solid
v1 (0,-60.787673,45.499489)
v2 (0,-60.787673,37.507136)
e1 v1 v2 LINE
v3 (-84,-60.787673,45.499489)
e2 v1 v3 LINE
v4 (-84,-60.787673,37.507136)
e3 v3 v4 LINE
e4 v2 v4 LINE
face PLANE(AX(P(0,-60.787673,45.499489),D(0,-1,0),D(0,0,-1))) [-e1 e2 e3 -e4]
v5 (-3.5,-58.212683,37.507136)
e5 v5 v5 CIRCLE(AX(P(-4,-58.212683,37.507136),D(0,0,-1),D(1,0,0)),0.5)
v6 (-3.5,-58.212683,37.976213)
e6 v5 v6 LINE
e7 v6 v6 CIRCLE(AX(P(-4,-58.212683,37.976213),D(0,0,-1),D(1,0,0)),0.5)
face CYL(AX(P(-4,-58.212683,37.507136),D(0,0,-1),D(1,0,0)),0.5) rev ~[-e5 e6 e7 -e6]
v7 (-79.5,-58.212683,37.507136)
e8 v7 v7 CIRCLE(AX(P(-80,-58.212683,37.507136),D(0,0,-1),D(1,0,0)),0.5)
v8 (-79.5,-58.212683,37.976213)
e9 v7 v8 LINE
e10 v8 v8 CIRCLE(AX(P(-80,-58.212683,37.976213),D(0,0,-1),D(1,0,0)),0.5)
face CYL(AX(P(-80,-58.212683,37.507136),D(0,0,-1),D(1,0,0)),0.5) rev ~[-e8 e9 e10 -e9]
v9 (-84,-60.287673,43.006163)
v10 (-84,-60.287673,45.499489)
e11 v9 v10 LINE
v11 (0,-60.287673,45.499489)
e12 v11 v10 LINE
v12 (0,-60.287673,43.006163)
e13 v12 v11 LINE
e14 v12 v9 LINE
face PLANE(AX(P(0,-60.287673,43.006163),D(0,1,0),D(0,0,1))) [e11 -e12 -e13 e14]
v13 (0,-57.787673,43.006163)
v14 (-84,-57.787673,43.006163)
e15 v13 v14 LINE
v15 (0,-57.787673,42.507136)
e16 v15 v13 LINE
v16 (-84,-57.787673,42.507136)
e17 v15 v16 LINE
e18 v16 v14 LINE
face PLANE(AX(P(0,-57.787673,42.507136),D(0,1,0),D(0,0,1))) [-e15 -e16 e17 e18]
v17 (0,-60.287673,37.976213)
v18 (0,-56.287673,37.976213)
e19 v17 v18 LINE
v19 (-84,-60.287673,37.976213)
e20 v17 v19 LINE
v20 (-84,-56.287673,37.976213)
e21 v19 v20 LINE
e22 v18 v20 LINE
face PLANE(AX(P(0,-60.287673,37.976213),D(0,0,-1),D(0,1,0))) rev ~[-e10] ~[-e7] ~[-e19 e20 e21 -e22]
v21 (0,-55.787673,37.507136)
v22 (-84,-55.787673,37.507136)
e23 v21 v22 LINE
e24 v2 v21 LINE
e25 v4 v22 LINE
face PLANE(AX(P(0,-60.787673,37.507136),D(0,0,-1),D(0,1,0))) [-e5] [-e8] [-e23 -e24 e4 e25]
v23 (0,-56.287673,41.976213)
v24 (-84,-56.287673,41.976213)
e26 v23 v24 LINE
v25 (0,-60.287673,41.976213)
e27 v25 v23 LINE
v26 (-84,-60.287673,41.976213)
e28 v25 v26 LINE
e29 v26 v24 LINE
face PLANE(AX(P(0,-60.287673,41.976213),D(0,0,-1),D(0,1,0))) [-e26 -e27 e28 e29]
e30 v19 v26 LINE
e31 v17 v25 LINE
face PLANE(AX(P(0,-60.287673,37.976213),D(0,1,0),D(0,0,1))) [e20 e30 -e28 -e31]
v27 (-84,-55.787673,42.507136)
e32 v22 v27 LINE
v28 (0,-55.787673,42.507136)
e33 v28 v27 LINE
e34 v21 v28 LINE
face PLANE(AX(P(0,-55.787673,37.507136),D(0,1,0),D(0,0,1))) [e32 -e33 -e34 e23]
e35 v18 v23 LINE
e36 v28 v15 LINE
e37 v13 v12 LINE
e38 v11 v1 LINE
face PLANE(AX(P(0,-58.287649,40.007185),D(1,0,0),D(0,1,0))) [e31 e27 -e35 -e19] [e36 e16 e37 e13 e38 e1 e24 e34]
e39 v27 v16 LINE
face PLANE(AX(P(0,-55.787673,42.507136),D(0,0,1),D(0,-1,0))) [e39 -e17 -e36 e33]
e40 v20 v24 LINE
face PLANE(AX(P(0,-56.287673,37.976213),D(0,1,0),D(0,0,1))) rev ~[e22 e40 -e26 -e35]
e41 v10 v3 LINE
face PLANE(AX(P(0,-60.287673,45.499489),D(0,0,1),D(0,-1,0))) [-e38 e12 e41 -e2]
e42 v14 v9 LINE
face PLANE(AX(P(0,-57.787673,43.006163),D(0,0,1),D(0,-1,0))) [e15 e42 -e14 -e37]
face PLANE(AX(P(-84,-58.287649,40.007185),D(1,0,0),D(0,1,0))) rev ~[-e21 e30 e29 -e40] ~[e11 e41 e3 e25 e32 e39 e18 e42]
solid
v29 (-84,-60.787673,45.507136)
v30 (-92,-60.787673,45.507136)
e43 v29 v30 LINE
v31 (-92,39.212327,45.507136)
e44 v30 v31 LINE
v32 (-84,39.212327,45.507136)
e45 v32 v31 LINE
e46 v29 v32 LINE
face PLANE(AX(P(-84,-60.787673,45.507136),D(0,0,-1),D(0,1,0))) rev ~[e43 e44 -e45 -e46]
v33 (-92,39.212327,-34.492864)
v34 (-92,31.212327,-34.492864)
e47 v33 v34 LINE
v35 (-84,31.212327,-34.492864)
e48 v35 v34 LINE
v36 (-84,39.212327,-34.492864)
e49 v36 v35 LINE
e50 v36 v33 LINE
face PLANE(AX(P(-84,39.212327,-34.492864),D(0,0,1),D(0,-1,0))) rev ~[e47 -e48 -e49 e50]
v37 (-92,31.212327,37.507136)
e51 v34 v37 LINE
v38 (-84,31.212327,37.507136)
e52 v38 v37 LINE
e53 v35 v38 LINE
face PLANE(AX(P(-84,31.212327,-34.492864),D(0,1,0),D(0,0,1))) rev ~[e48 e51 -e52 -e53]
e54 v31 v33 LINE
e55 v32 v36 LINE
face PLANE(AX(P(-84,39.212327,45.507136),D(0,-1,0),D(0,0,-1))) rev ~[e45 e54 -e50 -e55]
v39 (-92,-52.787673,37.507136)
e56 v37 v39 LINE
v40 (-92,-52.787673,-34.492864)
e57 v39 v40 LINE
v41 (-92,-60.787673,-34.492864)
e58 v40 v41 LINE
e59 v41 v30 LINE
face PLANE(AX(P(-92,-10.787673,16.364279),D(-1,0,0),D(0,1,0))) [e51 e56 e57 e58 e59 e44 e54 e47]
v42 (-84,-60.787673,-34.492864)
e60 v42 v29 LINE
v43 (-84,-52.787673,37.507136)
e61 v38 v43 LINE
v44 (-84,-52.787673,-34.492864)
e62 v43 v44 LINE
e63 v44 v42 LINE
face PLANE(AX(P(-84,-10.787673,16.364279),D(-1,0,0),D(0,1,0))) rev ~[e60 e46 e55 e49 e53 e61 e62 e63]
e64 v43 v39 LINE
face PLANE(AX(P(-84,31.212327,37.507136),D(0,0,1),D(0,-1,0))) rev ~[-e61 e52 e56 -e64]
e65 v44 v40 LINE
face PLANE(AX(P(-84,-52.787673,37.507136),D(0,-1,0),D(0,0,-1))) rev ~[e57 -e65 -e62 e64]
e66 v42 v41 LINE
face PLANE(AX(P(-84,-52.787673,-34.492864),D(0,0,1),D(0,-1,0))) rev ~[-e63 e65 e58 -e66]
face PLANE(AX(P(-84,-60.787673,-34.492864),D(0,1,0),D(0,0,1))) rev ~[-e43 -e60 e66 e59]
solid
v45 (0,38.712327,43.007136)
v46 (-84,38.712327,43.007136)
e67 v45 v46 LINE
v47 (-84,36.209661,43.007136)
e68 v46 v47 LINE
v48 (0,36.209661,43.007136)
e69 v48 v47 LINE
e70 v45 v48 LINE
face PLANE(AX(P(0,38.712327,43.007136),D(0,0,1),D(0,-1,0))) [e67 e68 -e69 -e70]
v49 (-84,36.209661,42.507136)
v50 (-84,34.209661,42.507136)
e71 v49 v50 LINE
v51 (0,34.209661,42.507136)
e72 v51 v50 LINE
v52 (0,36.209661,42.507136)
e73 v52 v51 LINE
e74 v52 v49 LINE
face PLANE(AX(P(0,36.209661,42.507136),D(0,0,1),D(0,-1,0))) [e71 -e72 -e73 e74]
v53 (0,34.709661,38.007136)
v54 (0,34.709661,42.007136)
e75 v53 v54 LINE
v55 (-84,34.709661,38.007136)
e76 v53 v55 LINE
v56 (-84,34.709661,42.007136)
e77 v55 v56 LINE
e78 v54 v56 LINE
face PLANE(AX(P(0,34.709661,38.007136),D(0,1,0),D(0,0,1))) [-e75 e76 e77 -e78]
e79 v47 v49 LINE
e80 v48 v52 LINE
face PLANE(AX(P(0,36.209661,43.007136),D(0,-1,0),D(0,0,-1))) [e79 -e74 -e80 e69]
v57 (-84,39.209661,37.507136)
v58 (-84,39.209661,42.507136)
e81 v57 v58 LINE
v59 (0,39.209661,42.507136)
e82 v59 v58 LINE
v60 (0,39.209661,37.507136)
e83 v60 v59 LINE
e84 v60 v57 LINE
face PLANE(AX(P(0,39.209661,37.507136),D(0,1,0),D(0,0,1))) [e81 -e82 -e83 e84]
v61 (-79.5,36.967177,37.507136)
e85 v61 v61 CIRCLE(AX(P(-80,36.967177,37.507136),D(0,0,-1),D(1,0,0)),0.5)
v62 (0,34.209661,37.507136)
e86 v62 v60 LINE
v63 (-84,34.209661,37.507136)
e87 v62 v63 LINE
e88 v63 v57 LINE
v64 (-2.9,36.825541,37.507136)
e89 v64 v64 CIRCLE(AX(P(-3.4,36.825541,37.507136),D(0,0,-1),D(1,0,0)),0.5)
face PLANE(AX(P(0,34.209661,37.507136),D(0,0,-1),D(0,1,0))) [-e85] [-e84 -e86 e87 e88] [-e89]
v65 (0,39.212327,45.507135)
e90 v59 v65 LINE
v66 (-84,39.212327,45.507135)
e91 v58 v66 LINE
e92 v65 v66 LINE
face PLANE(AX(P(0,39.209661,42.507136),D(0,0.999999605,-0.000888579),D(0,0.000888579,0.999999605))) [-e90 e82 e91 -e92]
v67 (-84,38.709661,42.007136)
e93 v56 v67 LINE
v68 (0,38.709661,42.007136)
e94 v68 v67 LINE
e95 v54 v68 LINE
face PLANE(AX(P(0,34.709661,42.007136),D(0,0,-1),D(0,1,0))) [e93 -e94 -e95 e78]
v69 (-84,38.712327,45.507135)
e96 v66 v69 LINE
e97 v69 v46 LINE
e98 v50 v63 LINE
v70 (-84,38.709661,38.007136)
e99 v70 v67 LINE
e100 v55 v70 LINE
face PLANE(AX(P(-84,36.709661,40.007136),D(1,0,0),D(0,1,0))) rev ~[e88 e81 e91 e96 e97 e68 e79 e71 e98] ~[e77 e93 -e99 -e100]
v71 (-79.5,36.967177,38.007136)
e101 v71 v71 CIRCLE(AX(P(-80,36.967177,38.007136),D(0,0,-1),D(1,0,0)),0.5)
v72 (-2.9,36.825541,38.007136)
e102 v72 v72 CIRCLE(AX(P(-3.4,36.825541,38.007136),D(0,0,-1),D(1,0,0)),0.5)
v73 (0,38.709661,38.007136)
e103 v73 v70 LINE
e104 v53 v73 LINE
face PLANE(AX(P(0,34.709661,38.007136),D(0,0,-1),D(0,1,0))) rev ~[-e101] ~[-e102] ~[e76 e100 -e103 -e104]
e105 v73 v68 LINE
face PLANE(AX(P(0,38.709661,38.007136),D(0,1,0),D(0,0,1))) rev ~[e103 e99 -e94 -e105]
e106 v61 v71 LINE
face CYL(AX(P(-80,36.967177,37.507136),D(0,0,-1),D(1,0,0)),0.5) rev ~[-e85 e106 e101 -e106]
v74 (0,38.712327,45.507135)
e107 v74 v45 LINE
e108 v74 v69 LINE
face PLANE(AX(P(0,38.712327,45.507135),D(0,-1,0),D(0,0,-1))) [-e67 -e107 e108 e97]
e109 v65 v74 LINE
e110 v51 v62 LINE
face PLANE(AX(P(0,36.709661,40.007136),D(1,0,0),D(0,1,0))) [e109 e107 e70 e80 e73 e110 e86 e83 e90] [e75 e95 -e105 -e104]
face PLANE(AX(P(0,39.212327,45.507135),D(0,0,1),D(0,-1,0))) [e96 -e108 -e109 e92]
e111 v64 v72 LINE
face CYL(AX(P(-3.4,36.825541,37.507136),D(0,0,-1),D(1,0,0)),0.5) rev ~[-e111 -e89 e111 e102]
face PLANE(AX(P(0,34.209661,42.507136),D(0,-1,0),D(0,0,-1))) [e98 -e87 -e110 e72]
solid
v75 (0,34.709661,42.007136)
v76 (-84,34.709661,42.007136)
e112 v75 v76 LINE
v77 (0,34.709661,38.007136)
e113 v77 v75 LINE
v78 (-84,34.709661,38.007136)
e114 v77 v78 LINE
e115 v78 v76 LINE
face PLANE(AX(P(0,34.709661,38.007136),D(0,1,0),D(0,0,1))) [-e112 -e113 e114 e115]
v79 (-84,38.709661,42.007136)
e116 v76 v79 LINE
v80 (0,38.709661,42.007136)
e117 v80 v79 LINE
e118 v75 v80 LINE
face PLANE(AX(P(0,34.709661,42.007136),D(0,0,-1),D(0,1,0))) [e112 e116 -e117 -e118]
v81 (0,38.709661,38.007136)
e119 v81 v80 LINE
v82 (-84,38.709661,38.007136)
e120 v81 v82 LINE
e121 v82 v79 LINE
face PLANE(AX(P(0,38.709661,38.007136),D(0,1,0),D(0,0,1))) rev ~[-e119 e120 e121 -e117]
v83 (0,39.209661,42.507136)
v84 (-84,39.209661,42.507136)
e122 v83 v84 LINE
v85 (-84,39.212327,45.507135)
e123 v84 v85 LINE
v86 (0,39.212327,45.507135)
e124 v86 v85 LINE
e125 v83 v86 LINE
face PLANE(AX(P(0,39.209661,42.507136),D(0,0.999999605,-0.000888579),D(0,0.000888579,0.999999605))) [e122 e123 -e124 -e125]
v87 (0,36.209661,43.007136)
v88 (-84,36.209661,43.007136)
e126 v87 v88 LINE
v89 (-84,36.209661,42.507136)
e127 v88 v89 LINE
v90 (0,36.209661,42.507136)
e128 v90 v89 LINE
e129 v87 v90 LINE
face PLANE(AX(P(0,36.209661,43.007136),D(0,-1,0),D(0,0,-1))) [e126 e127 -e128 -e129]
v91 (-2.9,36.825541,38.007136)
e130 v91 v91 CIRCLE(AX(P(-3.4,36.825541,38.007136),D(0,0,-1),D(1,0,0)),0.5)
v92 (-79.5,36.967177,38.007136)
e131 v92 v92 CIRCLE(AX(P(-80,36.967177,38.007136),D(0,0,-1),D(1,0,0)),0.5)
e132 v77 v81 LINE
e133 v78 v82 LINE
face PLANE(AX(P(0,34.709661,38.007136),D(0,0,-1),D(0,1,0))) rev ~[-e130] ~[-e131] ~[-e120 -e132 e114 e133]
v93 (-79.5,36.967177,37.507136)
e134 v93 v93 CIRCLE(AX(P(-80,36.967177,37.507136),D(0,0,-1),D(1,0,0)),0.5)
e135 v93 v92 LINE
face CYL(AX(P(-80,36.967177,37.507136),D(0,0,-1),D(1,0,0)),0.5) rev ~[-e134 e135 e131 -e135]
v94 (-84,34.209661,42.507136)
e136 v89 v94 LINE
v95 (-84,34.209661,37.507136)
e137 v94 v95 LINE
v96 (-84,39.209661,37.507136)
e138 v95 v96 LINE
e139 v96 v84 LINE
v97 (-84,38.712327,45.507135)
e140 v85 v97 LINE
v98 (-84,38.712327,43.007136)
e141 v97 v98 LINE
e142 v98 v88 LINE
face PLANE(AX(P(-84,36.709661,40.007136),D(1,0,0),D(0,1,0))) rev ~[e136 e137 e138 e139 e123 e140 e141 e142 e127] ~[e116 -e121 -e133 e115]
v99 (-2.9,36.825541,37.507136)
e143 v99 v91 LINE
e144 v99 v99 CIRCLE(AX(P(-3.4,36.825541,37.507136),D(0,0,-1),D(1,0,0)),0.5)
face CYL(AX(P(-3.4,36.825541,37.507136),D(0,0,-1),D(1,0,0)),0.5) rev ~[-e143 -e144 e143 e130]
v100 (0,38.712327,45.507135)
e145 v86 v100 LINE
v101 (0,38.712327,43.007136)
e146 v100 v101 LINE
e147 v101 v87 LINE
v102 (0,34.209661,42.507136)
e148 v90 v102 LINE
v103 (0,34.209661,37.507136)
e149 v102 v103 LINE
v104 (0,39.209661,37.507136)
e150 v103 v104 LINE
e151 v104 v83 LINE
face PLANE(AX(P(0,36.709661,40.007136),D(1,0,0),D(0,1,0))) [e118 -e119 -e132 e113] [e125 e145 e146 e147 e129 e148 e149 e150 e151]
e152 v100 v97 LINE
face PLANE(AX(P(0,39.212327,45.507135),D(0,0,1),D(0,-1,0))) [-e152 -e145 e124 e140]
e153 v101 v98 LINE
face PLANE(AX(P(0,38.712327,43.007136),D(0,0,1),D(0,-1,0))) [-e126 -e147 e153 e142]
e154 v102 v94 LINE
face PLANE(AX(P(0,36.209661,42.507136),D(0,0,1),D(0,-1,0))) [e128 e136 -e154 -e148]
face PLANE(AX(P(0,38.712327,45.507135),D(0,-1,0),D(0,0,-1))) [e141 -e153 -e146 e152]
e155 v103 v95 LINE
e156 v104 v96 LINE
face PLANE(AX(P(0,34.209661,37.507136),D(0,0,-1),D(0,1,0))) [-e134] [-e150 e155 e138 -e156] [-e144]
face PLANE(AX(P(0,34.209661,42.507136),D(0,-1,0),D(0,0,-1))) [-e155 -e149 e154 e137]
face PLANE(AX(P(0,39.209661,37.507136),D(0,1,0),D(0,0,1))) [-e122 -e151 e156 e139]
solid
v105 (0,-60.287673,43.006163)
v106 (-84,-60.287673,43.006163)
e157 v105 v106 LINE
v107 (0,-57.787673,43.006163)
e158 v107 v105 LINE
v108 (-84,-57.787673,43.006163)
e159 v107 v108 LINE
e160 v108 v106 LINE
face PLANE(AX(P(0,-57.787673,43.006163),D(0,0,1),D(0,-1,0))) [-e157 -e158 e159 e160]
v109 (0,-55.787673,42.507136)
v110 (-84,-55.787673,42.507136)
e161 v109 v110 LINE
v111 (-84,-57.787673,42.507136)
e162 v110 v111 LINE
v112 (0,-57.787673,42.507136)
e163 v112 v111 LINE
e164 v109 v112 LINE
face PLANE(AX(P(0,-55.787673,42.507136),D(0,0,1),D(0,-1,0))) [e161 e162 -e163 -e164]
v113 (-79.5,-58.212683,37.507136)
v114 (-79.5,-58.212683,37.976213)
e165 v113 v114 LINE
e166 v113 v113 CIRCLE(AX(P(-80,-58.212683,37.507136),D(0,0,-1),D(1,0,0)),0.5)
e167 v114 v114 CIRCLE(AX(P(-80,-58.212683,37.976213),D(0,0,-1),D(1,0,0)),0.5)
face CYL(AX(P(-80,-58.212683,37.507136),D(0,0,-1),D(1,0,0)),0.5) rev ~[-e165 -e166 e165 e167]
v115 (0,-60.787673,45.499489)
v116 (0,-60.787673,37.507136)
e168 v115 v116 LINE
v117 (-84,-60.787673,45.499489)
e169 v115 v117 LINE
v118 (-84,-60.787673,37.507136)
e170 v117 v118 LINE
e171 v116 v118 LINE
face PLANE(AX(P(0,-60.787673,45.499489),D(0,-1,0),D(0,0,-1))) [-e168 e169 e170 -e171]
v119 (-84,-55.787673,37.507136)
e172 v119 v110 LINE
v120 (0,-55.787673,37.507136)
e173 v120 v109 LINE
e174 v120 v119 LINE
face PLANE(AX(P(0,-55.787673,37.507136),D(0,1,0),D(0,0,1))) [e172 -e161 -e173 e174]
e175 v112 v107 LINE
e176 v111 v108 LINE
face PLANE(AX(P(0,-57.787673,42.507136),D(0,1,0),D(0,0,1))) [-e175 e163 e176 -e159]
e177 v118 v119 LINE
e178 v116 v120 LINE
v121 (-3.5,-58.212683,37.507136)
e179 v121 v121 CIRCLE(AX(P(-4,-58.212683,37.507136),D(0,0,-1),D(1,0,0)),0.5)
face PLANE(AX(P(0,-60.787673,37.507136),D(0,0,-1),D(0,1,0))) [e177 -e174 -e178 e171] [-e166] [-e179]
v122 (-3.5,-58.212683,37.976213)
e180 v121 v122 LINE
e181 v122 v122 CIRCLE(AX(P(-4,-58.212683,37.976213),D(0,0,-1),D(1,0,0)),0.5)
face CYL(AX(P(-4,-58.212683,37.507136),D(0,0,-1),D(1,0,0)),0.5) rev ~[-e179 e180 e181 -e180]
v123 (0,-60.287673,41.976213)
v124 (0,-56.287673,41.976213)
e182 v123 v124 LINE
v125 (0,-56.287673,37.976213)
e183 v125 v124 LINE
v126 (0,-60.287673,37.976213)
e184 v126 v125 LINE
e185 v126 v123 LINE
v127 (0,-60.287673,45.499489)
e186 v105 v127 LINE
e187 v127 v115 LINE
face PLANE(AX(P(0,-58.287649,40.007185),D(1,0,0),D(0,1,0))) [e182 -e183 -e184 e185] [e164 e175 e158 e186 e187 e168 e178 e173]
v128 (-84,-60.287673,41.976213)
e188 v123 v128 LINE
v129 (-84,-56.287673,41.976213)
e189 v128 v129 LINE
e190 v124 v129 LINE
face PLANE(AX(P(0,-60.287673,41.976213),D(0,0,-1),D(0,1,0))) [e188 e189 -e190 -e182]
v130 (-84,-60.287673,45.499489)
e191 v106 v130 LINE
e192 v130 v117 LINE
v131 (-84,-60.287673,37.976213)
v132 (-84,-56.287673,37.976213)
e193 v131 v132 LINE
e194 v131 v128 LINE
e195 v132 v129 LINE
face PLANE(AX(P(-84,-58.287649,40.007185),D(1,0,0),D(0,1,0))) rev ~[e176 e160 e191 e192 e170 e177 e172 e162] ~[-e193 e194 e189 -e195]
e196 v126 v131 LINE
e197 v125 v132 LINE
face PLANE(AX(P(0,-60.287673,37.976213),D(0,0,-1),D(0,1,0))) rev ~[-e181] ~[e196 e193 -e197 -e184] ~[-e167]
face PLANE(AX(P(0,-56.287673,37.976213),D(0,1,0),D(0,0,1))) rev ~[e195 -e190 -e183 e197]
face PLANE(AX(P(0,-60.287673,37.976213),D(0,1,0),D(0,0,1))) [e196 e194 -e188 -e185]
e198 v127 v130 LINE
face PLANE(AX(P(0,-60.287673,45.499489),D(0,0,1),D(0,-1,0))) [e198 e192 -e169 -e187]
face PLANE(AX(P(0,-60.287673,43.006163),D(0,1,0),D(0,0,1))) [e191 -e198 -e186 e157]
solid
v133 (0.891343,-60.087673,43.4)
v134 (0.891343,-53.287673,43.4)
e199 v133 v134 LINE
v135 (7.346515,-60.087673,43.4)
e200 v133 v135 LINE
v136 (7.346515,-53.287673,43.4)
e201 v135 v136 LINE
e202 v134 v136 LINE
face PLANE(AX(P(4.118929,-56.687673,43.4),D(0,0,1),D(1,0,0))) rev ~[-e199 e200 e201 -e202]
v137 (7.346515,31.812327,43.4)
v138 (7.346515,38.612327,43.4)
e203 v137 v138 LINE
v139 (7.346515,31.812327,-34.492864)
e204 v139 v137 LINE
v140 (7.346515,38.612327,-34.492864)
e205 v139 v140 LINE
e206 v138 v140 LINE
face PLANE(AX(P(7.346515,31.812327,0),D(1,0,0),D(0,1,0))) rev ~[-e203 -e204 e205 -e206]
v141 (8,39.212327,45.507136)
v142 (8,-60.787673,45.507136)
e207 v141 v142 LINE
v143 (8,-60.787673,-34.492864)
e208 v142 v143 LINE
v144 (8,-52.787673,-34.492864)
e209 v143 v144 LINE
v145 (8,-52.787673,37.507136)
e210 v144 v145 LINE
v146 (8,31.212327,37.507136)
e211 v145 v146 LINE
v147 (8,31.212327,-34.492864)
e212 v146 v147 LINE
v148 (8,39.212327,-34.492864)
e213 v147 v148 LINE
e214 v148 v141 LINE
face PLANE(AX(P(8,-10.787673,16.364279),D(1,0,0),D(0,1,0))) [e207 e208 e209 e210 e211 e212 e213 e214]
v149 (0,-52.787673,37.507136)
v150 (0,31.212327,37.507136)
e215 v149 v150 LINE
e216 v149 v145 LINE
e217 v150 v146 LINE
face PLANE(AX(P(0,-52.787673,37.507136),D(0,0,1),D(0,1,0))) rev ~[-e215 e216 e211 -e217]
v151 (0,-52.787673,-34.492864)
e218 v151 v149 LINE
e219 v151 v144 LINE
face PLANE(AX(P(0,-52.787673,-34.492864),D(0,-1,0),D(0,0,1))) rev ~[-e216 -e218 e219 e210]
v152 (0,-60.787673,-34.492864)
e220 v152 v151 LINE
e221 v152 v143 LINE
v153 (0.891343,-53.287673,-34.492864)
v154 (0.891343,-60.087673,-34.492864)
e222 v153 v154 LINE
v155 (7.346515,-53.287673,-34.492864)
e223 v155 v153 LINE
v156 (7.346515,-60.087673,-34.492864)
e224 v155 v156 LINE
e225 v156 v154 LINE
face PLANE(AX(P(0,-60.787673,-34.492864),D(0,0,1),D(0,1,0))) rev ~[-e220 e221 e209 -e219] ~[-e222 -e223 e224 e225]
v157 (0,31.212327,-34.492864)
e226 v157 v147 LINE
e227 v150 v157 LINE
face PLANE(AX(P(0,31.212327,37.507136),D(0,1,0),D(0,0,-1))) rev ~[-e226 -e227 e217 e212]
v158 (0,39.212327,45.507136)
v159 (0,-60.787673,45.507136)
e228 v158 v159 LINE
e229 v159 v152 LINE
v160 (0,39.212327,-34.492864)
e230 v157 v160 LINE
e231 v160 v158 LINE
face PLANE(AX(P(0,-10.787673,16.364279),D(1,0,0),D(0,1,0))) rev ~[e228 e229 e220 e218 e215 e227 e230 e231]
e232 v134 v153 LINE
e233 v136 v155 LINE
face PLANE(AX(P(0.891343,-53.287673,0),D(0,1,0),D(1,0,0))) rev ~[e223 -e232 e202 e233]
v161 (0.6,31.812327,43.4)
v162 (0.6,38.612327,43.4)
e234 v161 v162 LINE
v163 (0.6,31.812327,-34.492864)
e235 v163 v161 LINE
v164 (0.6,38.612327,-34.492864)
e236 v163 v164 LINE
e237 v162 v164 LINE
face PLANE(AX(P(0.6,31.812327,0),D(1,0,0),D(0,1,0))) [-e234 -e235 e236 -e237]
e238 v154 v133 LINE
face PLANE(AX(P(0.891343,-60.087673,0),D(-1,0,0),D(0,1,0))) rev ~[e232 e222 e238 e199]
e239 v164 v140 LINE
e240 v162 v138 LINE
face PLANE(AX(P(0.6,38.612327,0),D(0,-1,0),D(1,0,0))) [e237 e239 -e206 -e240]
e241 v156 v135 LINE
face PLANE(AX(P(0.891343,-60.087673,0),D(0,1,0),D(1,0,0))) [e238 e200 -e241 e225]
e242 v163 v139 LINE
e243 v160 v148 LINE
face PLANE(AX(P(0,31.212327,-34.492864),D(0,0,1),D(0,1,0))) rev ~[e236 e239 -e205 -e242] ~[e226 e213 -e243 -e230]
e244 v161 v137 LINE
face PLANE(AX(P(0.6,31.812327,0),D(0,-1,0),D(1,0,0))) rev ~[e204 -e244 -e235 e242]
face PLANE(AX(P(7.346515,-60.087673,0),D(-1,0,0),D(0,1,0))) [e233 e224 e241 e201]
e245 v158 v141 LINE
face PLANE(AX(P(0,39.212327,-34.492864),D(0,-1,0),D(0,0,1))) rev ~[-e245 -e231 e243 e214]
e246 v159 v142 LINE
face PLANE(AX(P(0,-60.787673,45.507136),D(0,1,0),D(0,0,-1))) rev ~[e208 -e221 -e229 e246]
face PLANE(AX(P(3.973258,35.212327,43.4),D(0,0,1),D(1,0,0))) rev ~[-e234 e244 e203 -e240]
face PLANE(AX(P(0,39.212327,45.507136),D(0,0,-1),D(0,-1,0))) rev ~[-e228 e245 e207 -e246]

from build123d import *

# Parameters (mm, degrees)
F1_DEPTH = 8
F2_W     = 6.4551721394
F2_H     = 6.8
F2_W_2   = 6.7465151047
F3_DEPTH = 43.4
F4_W     = 4
F4_H     = 4
F5_DEPTH = 84
F6_DEPTH = 84
F7_START = 84
F7_DEPTH = 8
F8_R     = 0.5
F9_DEPTH = 4.1


with BuildPart() as f1:
    # F0 (on Right) → F1 (new body)
    with BuildSketch(Plane.YZ):
        Polygon((-60.7876732945, 45.5071360877), (-60.7876732945, -34.4928639123), (-52.7876732945, -34.4928639123), (-52.7876732945, 37.5071360877), (31.2123267055, 37.5071360877), (31.2123267055, -34.4928639123), (39.2123267055, -34.4928639123), (39.2123267055, 45.5071360877), align=None)
    extrude(amount=F1_DEPTH)

    # F2 (on Top) → F3 (cut, symmetric)
    with BuildSketch(Plane.XY):
        with Locations((4.118929035, -56.6876732945)):
            Rectangle(F2_W, F2_H)
        with Locations((3.9732575524, 35.2123267055)):
            Rectangle(F2_W_2, F2_H)
    extrude(amount=F3_DEPTH, both=True, mode=Mode.SUBTRACT)


with BuildPart() as f5:
    # F4 (on Right) → F5 (new body)
    with BuildSketch(Plane.YZ):
        Polygon((39.2096609688, 37.5071360877), (39.2096609688, 42.5071360877), (36.2096609688, 42.5071360877), (34.2096609688, 42.5071360877), (34.2096609688, 37.5071360877), align=None)
        with Locations((36.7096609688, 40.0071360877)):
            Rectangle(F4_W, F4_H, mode=Mode.SUBTRACT)
        Polygon((36.2096609688, 42.5071360877), (39.2096609688, 42.5071360877), (39.2123267055, 45.5071349033), (38.7123267055, 45.5071349033), (38.7123267055, 43.0071360877), (36.2096609688, 43.0071360877), align=None)
    extrude(amount=-F5_DEPTH)


with BuildPart() as f5b:
    # F4 (on Right) → F5, piece 2 (new body)
    with BuildSketch(Plane.YZ):
        Polygon((-55.7876732945, 37.5071360877), (-55.7876732945, 42.5071360877), (-57.7876734523, 42.5071360877), (-57.7876734523, 42.5061632327), (-60.7876732945, 42.5071360877), (-60.7876732945, 37.5071360877), align=None)
        with Locations((-58.2876732945, 39.9762127995)):
            Rectangle(F4_W, F4_H, mode=Mode.SUBTRACT)
        Polygon((-57.7876734523, 42.5061632327), (-57.7876734523, 42.5071360877), (-60.7876732945, 42.5071360877), align=None)
        Polygon((-60.7876732945, 42.5071360877), (-57.7876734523, 42.5071360877), (-57.7876734523, 43.0061632327), (-60.2876732945, 43.0061632327), (-60.2876732945, 45.4994887114), (-60.7876732945, 45.4994887114), align=None)
    extrude(amount=-F5_DEPTH)


with BuildPart() as f6:
    # F4 (on Right) → F6 (new body)
    with BuildSketch(Plane.YZ):
        Polygon((39.2096609688, 37.5071360877), (39.2096609688, 42.5071360877), (36.2096609688, 42.5071360877), (34.2096609688, 42.5071360877), (34.2096609688, 37.5071360877), align=None)
        with Locations((36.7096609688, 40.0071360877)):
            Rectangle(F4_W, F4_H, mode=Mode.SUBTRACT)
        Polygon((36.2096609688, 42.5071360877), (39.2096609688, 42.5071360877), (39.2123267055, 45.5071349033), (38.7123267055, 45.5071349033), (38.7123267055, 43.0071360877), (36.2096609688, 43.0071360877), align=None)
    extrude(amount=-F6_DEPTH)


with BuildPart() as f6b:
    # F4 (on Right) → F6, piece 2 (new body)
    with BuildSketch(Plane.YZ):
        Polygon((-55.7876732945, 37.5071360877), (-55.7876732945, 42.5071360877), (-57.7876734523, 42.5071360877), (-57.7876734523, 42.5061632327), (-60.7876732945, 42.5071360877), (-60.7876732945, 37.5071360877), align=None)
        with Locations((-58.2876732945, 39.9762127995)):
            Rectangle(F4_W, F4_H, mode=Mode.SUBTRACT)
        Polygon((-57.7876734523, 42.5061632327), (-57.7876734523, 42.5071360877), (-60.7876732945, 42.5071360877), align=None)
        Polygon((-60.7876732945, 42.5071360877), (-57.7876734523, 42.5071360877), (-57.7876734523, 43.0061632327), (-60.2876732945, 43.0061632327), (-60.2876732945, 45.4994887114), (-60.7876732945, 45.4994887114), align=None)
    extrude(amount=-F6_DEPTH)


with BuildPart() as f7:
    # F1_face (on face) → F7 (new body)
    with BuildSketch(Plane(origin=(0, -10.7876732945, 17.9005787106), x_dir=(0, 1, 0), z_dir=(-1, 0, 0)).offset(F7_START)):
        Polygon((-50, 52.393442623), (-50, -27.606557377), (50, -27.606557377), (50, 52.393442623), (42, 52.393442623), (42, -19.606557377), (-42, -19.606557377), (-42, 52.393442623), align=None)
    extrude(amount=F7_DEPTH)


with BuildPart() as f9_tool:
    # F8 (on face) → F9 (new body)
    with BuildSketch(Plane(origin=(0, 0, 37.5071360877), x_dir=(1, 0, 0), z_dir=(0, 0, -1))):
        with Locations((-80, 58.2126826048)):
            Circle(F8_R)
        with Locations((-4, 58.2126826048)):
            Circle(F8_R)
        with Locations((-3.4, -36.8255414069)):
            Circle(F8_R)
        with Locations((-80, -36.967176944)):
            Circle(F8_R)
    extrude(amount=-F9_DEPTH)


with BuildPart() as f5_1:
    add(f5.part)

    # F9: cut by f9_tool
    add(f9_tool.part, mode=Mode.SUBTRACT)


with BuildPart() as f5b_1:
    add(f5b.part)

    # F9: cut by f9_tool
    add(f9_tool.part, mode=Mode.SUBTRACT)


with BuildPart() as f6_1:
    add(f6.part)

    # F9: cut by f9_tool
    add(f9_tool.part, mode=Mode.SUBTRACT)


with BuildPart() as f6b_1:
    add(f6b.part)

    # F9: cut by f9_tool
    add(f9_tool.part, mode=Mode.SUBTRACT)


solid = Compound([f1.part, f7.part, f5_1.part, f5b_1.part, f6_1.part, f6b_1.part])
